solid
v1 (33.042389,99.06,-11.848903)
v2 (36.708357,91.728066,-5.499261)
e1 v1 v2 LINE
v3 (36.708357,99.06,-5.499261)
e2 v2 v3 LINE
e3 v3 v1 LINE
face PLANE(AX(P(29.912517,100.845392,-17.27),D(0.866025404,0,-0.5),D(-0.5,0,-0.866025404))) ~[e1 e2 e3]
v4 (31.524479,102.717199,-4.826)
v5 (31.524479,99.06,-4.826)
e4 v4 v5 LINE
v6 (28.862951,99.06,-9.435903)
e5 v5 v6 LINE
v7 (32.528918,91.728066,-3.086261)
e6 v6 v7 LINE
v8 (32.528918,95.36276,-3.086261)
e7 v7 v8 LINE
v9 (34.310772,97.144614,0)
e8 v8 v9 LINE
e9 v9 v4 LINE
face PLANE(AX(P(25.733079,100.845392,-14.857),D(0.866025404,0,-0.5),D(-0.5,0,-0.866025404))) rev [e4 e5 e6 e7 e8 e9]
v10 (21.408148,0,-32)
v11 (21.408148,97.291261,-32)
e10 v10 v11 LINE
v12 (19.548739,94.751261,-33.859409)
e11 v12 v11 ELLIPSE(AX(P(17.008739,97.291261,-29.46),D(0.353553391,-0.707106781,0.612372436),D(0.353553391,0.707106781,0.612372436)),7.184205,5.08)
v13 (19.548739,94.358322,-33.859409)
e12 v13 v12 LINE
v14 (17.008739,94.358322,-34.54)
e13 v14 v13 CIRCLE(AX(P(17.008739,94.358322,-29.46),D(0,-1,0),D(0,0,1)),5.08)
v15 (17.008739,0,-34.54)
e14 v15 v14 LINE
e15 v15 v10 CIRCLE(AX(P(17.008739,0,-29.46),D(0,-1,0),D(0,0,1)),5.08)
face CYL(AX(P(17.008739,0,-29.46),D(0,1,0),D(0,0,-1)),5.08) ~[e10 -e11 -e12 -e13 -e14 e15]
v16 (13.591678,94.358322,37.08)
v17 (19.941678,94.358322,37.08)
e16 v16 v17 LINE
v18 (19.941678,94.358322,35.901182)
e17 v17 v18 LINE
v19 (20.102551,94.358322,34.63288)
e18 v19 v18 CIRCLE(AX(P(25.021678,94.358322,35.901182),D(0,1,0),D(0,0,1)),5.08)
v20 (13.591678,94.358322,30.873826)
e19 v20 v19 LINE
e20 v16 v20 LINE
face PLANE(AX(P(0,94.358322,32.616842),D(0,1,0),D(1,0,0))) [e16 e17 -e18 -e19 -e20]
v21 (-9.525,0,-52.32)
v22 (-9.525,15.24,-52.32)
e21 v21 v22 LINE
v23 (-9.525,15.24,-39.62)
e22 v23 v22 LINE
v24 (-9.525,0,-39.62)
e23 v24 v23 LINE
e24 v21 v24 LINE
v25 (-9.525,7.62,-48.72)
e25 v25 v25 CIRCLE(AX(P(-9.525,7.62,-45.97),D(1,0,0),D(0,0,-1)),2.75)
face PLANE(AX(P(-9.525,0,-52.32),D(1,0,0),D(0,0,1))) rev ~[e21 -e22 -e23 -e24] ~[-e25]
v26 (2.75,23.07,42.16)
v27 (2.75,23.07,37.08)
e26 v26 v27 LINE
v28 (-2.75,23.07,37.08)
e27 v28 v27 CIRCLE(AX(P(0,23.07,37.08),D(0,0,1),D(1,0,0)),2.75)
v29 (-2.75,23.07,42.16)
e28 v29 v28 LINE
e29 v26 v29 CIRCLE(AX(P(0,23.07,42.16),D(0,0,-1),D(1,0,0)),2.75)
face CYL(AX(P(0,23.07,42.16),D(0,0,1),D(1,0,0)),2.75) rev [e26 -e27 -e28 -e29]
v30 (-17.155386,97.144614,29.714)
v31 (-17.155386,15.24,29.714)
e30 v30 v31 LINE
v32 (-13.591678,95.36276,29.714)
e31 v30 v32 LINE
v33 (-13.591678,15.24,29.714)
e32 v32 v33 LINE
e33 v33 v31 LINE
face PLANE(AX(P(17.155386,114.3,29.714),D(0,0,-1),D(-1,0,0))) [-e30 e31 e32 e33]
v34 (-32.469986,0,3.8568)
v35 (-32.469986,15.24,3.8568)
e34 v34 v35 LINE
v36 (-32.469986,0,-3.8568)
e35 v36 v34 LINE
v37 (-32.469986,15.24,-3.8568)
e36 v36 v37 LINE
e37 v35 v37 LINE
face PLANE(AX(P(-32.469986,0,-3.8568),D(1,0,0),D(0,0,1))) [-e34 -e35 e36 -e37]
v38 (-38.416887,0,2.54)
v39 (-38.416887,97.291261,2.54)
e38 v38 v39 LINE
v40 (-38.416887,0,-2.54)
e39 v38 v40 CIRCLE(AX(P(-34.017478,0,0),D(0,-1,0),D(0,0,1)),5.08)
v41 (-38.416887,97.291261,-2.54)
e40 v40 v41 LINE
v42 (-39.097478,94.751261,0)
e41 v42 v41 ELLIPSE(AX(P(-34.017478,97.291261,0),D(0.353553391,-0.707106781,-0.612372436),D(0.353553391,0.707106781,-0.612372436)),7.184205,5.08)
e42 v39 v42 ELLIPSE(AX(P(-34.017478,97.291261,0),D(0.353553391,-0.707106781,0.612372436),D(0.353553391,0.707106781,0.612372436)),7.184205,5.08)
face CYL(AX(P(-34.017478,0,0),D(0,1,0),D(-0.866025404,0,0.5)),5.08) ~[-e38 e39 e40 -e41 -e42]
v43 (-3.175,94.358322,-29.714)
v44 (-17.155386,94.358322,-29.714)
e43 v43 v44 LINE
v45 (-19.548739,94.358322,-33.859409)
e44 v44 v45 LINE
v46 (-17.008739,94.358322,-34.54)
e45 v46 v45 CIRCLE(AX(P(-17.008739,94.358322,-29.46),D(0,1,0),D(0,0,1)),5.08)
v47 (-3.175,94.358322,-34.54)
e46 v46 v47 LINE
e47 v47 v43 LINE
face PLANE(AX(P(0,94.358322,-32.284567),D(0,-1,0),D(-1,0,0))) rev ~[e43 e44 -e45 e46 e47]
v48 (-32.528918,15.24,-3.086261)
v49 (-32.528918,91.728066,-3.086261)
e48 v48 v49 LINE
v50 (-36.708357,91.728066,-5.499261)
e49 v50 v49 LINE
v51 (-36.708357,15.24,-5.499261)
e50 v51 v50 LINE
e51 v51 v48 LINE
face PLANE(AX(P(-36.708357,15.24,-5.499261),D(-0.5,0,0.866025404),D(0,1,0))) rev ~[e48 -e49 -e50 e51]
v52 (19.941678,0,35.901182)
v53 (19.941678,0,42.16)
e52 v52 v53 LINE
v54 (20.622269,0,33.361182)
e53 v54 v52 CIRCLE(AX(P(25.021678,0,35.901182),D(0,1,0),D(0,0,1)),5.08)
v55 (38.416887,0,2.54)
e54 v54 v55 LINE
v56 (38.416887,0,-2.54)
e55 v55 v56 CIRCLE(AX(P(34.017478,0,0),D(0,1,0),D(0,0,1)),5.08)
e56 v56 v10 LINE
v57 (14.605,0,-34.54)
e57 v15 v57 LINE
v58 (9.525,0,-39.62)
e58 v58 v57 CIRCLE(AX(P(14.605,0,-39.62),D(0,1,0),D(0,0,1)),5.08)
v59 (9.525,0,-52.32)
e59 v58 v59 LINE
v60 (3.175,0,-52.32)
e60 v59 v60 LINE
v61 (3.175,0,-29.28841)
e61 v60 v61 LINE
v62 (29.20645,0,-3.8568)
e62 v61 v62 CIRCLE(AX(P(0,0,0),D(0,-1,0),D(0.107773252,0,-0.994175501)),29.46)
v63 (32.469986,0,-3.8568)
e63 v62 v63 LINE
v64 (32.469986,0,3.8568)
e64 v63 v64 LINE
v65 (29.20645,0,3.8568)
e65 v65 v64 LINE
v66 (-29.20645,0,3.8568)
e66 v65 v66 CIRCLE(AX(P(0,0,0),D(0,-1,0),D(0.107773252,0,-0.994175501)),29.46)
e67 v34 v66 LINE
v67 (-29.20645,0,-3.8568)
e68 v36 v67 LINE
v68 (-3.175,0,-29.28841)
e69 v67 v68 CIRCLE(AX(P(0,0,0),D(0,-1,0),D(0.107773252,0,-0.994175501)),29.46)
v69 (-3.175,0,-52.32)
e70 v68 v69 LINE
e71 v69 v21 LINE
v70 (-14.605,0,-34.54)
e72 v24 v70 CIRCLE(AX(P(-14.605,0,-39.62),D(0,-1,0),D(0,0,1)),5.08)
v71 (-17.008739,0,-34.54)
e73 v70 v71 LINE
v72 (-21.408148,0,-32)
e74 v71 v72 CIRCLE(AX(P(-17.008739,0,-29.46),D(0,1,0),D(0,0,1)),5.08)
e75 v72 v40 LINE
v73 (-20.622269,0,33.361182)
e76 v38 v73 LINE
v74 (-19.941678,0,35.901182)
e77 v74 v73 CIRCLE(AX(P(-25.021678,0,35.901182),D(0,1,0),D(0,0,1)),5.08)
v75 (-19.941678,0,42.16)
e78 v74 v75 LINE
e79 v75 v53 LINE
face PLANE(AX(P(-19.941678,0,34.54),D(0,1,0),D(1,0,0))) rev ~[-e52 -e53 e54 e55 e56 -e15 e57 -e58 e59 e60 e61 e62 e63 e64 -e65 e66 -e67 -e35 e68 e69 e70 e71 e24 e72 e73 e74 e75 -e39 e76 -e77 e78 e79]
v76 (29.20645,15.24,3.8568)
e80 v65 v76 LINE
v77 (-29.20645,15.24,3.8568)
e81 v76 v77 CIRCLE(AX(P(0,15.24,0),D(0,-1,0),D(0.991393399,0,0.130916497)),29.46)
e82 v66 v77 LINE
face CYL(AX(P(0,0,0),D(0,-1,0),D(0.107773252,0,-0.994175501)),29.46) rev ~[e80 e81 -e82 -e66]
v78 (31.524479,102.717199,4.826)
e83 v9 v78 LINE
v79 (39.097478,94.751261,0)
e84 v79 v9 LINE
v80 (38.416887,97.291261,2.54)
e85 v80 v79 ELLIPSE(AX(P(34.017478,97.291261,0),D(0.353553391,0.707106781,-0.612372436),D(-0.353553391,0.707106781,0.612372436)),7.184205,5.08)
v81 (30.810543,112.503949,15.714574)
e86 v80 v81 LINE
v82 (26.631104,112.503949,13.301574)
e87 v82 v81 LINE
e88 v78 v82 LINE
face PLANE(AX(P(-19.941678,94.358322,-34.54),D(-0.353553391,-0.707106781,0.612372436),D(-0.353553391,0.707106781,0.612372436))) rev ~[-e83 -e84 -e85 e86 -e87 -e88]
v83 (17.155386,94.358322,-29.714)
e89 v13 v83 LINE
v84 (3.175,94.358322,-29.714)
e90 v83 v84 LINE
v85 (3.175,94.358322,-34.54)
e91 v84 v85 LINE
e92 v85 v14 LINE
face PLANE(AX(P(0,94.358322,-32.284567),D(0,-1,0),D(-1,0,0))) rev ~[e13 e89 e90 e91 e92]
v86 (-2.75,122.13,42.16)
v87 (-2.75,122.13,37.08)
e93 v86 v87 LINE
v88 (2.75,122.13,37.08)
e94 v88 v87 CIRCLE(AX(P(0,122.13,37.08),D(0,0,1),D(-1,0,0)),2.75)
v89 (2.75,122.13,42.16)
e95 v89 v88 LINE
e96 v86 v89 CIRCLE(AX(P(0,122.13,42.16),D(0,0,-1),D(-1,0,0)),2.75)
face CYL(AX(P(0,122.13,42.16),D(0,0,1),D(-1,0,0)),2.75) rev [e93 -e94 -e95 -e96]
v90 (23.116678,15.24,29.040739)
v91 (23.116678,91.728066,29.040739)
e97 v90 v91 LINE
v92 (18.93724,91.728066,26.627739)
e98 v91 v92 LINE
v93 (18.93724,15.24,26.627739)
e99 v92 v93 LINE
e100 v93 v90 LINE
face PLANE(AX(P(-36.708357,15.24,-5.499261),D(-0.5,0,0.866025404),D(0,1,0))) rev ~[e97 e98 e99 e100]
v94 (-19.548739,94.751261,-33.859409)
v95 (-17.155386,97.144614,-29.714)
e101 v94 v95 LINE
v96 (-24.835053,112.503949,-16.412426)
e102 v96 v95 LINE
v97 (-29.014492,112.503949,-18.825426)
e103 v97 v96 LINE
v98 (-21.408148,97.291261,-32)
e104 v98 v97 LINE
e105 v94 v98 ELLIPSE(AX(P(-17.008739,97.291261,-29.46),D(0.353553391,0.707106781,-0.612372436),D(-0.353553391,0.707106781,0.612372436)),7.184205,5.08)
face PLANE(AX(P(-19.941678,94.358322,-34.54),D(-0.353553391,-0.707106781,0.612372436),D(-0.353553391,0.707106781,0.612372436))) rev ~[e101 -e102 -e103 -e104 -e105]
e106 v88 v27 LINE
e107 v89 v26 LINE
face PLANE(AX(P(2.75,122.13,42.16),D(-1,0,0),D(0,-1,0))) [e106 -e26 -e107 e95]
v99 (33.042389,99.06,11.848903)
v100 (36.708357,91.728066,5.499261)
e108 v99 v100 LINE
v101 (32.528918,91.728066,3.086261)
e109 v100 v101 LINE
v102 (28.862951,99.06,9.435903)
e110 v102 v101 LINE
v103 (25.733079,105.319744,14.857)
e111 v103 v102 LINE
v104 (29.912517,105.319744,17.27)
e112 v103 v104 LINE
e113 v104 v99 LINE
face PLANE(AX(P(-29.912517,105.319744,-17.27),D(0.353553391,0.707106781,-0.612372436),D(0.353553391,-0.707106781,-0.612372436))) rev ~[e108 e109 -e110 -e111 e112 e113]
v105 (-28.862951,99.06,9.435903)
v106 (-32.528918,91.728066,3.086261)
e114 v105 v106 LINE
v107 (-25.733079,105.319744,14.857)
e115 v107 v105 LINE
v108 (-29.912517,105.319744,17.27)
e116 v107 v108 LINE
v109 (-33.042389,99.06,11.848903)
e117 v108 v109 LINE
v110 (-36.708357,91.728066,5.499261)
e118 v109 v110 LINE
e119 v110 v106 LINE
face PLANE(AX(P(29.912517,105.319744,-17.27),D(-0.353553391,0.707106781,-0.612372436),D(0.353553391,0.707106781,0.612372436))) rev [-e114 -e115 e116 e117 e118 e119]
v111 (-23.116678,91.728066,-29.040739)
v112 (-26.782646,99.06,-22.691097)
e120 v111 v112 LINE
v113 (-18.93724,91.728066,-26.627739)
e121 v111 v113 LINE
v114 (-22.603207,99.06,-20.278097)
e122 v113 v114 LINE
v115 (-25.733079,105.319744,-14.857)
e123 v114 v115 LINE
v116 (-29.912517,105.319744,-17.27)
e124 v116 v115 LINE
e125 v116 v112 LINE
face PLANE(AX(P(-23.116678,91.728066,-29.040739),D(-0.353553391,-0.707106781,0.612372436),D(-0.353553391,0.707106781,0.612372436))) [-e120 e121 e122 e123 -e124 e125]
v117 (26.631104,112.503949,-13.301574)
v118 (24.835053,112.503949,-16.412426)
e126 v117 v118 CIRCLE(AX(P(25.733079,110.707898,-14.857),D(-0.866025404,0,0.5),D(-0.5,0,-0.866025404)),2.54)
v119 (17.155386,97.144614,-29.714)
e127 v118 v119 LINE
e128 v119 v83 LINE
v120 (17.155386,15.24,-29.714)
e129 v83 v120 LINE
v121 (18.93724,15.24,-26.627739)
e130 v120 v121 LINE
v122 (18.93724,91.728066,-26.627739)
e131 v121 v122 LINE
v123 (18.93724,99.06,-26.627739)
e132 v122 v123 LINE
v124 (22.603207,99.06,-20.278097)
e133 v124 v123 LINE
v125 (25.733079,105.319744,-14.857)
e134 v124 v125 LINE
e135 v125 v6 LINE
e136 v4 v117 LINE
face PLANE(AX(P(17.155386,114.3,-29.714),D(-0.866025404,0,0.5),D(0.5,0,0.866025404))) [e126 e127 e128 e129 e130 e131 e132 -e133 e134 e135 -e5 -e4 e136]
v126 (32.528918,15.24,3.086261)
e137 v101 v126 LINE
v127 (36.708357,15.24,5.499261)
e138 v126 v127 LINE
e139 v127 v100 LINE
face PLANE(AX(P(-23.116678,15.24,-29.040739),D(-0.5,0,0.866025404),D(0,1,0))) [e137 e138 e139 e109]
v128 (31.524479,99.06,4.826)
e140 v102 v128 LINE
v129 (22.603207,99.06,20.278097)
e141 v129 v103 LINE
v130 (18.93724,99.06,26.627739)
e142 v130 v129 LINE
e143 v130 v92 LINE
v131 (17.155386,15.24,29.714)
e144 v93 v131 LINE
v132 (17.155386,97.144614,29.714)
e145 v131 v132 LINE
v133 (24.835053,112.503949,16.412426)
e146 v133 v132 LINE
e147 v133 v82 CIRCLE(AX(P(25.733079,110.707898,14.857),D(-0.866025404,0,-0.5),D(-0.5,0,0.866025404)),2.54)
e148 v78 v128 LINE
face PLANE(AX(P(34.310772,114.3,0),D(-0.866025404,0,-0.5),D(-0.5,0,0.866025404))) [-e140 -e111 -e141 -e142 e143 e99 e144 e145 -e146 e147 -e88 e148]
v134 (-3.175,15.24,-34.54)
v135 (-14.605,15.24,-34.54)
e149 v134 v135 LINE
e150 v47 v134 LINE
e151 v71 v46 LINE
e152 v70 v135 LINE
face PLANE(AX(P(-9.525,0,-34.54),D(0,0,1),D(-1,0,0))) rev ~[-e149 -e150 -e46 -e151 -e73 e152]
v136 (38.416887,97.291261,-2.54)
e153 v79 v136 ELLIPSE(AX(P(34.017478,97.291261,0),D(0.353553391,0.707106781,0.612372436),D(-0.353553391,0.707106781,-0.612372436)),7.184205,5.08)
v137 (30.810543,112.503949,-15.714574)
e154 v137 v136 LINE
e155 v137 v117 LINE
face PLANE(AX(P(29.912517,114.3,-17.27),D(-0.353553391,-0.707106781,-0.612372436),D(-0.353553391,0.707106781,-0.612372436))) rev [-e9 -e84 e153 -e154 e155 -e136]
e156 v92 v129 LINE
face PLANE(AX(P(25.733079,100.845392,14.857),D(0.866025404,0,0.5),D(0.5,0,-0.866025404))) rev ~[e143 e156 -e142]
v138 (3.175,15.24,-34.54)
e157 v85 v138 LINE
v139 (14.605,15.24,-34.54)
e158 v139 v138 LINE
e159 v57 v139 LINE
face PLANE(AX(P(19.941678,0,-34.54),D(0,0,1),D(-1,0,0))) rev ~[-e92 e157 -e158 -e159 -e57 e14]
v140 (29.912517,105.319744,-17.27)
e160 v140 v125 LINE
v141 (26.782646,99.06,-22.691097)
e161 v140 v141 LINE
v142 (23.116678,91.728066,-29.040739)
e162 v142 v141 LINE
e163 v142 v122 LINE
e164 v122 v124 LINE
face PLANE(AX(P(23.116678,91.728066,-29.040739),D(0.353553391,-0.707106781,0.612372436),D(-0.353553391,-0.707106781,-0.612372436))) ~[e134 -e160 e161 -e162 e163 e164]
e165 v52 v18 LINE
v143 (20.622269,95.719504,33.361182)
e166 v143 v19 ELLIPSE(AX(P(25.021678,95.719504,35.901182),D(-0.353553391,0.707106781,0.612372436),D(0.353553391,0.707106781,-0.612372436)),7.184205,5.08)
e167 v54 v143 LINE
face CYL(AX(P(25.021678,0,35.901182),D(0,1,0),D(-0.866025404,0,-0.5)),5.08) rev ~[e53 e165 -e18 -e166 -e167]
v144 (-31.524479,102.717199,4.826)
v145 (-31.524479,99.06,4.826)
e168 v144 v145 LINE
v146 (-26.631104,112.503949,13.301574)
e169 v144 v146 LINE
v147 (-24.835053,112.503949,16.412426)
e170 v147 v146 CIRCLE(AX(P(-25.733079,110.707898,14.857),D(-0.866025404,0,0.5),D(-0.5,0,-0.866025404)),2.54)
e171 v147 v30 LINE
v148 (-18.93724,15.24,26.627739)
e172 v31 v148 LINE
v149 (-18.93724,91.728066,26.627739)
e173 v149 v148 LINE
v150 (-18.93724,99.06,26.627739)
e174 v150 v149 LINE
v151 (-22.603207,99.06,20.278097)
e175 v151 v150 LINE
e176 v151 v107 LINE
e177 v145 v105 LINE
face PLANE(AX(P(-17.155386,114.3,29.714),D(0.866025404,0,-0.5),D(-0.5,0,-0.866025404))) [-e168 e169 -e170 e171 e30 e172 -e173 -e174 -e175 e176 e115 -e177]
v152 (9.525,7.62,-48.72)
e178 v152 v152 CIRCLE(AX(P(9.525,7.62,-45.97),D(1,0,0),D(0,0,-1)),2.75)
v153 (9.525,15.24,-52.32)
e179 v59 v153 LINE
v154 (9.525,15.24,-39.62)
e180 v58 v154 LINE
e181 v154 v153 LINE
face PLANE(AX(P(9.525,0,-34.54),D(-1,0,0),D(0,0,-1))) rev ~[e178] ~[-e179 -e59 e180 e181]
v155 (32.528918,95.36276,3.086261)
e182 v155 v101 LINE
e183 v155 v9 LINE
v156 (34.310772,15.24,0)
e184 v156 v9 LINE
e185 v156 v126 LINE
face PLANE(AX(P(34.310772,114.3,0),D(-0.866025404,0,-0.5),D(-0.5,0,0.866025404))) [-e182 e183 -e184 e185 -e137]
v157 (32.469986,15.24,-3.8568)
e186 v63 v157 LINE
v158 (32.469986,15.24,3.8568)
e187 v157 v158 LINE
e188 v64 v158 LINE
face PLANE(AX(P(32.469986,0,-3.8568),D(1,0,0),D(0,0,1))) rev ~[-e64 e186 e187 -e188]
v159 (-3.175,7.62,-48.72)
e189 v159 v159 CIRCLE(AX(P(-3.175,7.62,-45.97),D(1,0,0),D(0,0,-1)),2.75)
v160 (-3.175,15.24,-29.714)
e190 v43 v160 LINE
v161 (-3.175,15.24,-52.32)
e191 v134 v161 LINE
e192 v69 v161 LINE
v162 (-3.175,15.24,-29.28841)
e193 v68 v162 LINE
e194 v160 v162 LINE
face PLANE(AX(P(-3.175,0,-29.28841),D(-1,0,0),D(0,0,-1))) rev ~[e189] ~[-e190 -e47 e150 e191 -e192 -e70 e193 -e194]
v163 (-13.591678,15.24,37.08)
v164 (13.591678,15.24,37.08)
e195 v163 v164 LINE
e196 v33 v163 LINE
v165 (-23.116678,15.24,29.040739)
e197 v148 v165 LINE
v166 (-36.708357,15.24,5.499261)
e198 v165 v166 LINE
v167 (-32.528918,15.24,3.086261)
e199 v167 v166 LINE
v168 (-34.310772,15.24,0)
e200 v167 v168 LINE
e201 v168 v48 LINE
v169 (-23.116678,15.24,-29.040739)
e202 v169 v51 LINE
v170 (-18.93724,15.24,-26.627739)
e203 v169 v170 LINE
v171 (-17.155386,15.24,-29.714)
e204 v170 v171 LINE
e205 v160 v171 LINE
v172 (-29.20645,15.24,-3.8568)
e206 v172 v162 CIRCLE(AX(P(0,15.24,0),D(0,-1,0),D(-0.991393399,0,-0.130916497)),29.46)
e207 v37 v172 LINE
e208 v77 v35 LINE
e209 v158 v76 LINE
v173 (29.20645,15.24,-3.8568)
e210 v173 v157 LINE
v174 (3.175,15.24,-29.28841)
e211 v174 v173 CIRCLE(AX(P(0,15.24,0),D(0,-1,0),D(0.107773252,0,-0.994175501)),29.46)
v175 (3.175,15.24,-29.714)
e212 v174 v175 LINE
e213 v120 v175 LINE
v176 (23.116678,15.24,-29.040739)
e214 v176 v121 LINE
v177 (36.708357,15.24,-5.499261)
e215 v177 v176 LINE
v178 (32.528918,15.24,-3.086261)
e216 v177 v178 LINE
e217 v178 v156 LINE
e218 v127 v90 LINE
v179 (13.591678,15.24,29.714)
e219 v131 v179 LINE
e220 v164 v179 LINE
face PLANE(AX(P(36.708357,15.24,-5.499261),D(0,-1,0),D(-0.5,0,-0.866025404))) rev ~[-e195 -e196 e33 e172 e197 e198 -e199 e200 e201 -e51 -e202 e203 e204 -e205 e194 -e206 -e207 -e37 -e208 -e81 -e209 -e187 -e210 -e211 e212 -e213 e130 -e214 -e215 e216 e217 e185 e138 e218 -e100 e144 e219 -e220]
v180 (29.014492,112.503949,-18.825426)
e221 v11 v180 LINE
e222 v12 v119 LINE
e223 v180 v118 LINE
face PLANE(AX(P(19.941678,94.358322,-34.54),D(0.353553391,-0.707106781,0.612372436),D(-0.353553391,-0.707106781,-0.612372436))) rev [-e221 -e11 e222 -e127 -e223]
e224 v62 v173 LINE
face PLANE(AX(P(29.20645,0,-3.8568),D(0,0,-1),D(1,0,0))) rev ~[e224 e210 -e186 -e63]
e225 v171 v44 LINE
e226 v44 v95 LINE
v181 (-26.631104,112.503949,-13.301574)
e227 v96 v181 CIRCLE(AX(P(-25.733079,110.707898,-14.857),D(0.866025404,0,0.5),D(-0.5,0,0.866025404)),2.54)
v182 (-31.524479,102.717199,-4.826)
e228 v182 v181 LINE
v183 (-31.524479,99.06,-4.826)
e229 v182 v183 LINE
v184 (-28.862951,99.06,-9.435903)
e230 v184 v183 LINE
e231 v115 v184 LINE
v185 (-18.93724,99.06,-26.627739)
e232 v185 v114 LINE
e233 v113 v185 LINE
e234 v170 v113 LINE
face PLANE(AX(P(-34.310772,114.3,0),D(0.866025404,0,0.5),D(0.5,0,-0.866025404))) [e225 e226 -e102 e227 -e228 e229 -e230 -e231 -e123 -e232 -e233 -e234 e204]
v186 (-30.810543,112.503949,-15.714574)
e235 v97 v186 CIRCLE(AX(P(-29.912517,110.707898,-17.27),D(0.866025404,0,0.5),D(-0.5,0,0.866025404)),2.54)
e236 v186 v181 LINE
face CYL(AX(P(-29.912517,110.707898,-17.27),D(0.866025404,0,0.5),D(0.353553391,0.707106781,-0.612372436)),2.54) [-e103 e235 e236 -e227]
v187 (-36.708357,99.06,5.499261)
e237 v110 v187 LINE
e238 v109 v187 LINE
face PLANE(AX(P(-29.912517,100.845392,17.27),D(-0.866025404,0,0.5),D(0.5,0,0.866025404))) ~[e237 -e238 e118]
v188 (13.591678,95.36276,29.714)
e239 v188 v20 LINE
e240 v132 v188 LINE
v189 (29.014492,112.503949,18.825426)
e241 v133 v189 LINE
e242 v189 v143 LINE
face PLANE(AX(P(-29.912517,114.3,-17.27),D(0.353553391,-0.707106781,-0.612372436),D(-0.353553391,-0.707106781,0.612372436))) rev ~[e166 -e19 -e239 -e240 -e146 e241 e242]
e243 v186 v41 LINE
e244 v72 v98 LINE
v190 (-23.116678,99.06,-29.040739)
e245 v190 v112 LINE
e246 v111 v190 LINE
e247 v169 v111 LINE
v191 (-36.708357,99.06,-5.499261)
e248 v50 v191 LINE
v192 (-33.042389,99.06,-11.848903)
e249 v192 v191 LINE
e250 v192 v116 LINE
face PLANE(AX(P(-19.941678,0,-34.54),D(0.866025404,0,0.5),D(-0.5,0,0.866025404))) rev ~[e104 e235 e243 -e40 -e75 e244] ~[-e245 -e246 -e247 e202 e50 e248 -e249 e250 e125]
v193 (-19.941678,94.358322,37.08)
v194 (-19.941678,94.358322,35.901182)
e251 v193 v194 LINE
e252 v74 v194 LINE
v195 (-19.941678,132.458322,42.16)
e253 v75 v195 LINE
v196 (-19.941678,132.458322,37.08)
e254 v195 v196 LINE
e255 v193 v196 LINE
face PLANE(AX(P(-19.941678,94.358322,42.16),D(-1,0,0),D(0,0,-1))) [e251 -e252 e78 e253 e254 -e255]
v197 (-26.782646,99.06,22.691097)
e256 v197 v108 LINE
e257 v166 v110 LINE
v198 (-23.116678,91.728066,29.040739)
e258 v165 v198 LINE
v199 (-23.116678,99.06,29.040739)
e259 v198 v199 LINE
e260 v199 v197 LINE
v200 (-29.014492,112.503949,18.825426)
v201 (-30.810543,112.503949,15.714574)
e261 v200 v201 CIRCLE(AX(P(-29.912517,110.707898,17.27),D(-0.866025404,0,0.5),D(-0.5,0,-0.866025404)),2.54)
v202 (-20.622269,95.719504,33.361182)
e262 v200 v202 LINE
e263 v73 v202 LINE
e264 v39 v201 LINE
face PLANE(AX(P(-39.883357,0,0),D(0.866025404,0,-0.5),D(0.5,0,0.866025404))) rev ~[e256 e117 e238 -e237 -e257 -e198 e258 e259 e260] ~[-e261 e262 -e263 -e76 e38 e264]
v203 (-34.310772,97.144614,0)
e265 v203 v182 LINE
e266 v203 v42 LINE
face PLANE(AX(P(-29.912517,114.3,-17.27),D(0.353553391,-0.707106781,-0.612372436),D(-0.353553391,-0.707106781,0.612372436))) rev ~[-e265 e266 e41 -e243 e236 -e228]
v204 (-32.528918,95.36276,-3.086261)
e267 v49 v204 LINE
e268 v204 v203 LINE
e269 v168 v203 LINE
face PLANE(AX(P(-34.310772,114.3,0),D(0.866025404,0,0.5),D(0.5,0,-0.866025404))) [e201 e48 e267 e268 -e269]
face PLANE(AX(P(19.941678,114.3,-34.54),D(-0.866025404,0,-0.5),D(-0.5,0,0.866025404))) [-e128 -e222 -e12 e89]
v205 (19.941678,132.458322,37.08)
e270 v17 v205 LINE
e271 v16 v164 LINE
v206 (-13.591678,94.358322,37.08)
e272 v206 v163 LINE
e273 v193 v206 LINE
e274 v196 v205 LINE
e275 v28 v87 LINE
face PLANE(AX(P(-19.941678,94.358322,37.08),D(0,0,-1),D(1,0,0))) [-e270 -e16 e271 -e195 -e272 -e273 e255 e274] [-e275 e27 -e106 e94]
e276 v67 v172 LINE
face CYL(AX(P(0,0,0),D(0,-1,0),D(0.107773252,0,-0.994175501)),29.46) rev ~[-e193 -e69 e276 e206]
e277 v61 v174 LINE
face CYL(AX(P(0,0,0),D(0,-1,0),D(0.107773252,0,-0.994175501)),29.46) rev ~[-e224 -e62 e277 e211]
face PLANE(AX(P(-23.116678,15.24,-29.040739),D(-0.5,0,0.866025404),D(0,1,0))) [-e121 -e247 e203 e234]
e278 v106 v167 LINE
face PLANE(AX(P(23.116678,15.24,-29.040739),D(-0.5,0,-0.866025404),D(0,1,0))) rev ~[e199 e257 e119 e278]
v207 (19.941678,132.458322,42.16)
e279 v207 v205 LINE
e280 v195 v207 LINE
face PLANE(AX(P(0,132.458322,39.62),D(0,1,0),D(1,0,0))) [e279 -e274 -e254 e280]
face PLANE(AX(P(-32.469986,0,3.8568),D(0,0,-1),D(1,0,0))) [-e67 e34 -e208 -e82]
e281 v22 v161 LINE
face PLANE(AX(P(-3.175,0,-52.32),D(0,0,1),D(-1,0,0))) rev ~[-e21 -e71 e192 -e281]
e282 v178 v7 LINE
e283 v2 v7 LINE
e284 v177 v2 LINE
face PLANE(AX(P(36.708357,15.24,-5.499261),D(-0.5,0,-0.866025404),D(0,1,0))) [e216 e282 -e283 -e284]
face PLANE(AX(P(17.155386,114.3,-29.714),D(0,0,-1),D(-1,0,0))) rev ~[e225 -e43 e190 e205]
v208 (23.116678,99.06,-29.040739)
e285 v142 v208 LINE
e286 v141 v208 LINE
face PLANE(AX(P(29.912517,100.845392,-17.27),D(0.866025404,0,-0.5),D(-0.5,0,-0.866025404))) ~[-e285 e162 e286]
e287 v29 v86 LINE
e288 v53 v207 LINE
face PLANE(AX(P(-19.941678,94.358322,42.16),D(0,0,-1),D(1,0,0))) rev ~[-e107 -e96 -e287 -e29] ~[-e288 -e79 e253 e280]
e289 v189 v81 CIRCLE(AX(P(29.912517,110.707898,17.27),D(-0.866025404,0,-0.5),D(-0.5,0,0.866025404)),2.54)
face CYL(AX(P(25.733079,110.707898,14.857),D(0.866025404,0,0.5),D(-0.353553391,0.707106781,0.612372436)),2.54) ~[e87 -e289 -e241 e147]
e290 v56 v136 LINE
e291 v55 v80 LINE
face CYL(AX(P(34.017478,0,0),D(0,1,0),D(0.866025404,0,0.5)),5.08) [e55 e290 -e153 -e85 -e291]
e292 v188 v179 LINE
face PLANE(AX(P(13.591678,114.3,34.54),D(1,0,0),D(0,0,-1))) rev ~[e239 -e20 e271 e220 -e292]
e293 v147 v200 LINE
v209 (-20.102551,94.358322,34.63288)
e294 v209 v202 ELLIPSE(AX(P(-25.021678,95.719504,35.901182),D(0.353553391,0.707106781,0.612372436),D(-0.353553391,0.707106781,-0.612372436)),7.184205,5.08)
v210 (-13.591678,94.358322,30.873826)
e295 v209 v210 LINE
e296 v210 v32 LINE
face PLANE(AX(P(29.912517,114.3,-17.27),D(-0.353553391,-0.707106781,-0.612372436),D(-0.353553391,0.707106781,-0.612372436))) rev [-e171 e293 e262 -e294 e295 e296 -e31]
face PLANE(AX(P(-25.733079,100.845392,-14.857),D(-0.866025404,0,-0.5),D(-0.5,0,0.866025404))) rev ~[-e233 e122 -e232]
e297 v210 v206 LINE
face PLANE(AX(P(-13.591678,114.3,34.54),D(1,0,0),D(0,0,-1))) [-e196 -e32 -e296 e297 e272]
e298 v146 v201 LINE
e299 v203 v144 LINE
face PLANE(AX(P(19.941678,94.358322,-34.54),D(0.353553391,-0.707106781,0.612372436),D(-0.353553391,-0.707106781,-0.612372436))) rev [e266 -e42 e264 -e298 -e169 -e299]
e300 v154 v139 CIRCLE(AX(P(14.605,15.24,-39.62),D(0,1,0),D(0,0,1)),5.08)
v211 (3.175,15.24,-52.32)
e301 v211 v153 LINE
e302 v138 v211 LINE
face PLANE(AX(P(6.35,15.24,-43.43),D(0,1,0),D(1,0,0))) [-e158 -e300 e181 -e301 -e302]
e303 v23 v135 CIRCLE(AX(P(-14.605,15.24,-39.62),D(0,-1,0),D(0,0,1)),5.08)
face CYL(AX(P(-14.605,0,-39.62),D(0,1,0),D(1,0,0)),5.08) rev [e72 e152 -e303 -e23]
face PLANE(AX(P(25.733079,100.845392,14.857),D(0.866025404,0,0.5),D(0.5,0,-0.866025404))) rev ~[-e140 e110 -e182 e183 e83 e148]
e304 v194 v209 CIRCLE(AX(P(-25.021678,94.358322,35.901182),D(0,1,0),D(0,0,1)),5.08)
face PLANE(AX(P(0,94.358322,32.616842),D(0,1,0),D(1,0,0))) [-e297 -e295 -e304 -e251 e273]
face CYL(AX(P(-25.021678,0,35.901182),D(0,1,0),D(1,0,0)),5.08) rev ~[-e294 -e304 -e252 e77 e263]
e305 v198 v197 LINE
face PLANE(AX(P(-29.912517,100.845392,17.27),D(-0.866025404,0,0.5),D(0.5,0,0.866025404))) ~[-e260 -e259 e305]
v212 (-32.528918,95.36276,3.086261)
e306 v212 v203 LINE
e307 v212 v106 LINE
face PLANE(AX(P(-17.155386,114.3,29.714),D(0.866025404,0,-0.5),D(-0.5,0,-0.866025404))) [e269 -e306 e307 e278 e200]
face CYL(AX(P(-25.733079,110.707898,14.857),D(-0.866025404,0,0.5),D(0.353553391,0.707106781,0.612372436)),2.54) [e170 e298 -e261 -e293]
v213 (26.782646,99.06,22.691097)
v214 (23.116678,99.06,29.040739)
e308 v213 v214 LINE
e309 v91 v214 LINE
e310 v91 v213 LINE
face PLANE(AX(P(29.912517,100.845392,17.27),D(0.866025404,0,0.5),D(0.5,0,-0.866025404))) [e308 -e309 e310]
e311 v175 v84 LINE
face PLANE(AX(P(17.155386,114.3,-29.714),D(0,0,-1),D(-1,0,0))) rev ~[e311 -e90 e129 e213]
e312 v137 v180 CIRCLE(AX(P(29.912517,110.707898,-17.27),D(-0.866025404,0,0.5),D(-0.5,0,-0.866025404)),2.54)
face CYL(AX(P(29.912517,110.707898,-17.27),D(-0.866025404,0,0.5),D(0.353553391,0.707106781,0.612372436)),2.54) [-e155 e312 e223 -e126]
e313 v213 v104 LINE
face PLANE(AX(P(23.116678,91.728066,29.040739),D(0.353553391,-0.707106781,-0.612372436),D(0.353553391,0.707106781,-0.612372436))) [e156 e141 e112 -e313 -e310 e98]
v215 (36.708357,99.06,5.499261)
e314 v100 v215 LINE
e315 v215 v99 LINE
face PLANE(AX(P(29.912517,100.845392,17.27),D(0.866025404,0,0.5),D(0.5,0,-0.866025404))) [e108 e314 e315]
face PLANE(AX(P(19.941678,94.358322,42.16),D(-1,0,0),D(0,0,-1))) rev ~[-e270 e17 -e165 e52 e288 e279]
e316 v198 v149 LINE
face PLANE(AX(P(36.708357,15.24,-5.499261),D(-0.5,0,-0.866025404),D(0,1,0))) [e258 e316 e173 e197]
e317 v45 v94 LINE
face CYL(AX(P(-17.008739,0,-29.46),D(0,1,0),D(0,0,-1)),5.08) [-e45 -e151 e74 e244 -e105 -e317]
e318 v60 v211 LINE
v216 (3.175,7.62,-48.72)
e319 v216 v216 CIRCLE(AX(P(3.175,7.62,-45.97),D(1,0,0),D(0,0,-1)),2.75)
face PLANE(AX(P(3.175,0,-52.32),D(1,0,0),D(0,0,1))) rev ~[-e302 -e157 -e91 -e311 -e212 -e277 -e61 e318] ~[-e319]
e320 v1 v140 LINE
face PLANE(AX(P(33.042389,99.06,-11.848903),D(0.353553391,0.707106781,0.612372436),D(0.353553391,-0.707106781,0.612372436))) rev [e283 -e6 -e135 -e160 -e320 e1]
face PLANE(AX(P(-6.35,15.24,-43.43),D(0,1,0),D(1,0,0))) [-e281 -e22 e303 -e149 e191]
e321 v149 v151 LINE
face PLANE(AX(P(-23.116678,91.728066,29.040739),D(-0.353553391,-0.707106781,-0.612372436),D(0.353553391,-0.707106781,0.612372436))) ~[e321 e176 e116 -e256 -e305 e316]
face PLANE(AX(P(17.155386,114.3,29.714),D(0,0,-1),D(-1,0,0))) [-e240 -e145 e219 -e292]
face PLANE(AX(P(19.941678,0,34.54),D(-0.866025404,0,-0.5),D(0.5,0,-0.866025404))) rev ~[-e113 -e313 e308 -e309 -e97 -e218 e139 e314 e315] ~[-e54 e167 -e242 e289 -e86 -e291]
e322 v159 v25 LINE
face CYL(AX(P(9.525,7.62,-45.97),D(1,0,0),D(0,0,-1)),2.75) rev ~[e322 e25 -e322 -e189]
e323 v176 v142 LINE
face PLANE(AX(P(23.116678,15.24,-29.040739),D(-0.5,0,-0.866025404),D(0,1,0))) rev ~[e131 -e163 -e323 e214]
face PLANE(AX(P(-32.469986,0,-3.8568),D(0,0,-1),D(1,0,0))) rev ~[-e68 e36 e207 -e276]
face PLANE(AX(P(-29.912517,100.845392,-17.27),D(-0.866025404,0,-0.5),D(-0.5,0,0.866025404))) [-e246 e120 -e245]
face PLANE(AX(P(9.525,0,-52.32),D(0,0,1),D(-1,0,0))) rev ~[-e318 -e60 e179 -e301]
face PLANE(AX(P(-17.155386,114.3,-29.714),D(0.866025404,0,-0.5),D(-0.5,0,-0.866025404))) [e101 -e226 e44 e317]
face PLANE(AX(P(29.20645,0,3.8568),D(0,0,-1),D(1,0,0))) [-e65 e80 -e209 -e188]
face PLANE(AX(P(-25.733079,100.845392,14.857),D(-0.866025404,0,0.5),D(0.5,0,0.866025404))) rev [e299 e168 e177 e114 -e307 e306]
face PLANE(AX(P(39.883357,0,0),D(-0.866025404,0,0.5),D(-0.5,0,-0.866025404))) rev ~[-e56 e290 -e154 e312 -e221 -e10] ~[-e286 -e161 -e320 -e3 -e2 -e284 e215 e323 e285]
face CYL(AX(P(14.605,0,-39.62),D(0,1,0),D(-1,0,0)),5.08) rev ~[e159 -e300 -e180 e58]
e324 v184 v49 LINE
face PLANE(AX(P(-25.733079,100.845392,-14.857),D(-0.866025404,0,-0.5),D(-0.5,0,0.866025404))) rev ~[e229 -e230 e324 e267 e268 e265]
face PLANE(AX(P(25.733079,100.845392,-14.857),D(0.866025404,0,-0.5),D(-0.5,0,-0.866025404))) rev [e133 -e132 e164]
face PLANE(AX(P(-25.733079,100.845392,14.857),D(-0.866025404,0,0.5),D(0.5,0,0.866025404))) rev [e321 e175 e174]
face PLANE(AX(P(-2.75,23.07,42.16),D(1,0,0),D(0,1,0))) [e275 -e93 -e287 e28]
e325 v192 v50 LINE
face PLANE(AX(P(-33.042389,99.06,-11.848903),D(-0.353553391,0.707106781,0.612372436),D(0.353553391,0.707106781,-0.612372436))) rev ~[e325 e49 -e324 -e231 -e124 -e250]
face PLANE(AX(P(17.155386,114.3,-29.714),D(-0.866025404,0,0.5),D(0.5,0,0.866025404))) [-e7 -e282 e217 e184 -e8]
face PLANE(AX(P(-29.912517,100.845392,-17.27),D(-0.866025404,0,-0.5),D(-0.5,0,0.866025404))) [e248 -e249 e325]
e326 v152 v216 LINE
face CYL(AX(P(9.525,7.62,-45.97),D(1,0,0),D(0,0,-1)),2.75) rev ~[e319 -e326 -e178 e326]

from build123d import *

# Parameters (mm, degrees)
BOSS_EXTRUDE1_DEPTH  = 114.3
SKETCH2_W            = 6.35
SKETCH2_H            = 17.78
CUT_EXTRUDE2_DEPTH   = 99.06
SKETCH3_W            = 27.183356596
SKETCH3_H            = 83.82
CUT_EXTRUDE3_DEPTH   = 99.06
SKETCH4_W            = 27.183356596
SKETCH4_H            = 83.82
CUT_EXTRUDE4_DEPTH   = 99.06
SKETCH7_W            = 3.263536018
SKETCH7_H            = 7.713600016
CUT_EXTRUDE7_DEPTH   = 15.24
CUT_EXTRUDE8_DEPTH   = 99.06
SKETCH10_W           = 39.883356596
SKETCH10_H           = 114.3
BOSS_EXTRUDE2_DEPTH  = 7.62
CUT_EXTRUDE11_DEPTH  = 81.28
BOSS_EXTRUDE9_DEPTH  = 4.826
MIRROR9_COPY_1_DEPTH = 4.826
CUT_EXTRUDE13_DEPTH  = 19.941678176
CUT_EXTRUDE14_DEPTH  = 19.941678176
SKETCH17_W           = 27.183356538
SKETCH17_H           = 4.826
CUT_EXTRUDE15_DEPTH  = 99.06
SKETCH18_W           = 39.883356596
SKETCH18_H           = 7.62
CUT_EXTRUDE16_DEPTH  = 19.941678176
SKETCH20_W           = 27.183356538
SKETCH20_H           = 2.54
CUT_EXTRUDE19_DEPTH  = 79.118321824
FILLET1_R            = 5.08
FILLET2_R            = 2.54
SKETCH21_R           = 2.749999961
CUT_EXTRUDE20_DEPTH  = 79.118321824
SKETCH22_W           = 39.883356596
SKETCH22_H           = 5.08
BOSS_EXTRUDE10_DEPTH = 38.1
CUT_EXTRUDE21_REACH  = 169.333


with BuildPart() as part:
    # Sketch1 → Boss-Extrude1 (new body)
    with BuildSketch(Plane(origin=(0, 0, 0), x_dir=(1, 0, 0), z_dir=(0, 1, 0))):
        with BuildLine():
            Line((39.883356596, 0), (19.941678298, 34.54))
            Line((19.941678298, 34.54), (9.525, 34.54))
            Line((9.525, 34.54), (9.525, 52.32))
            Line((9.525, 52.32), (3.175, 52.32))
            Line((3.175, 52.32), (3.175, 34.54))
            Line((3.175, 34.54), (3.175, 29.28841025))
            ThreePointArc((3.175, 29.28841025), (0, -29.46), (-3.175, 29.28841025))
            Line((-3.175, 29.28841025), (-3.175, 34.54))
            Line((-3.175, 34.54), (-3.175, 52.32))
            Line((-3.175, 52.32), (-9.525, 52.32))
            Line((-9.525, 52.32), (-9.525, 34.54))
            Line((-9.525, 34.54), (-19.941678298, 34.54))
            Line((-19.941678298, 34.54), (-39.883356596, 0))
            Line((-39.883356596, 0), (-19.941678298, -34.54))
            Line((-19.941678298, -34.54), (19.941678298, -34.54))
            Line((19.941678298, -34.54), (39.883356596, 0))
        make_face()
    extrude(amount=BOSS_EXTRUDE1_DEPTH)

    # Sketch2 → Cut-Extrude2 (cut)
    with BuildSketch(Plane(origin=(0, 114.3, 0), x_dir=(1, 0, 0), z_dir=(0, 1, 0))):
        with Locations((-6.35, 43.43)):
            Rectangle(SKETCH2_W, SKETCH2_H)
        with Locations((6.35, 43.43)):
            Rectangle(SKETCH2_W, SKETCH2_H)
    extrude(amount=-CUT_EXTRUDE2_DEPTH, mode=Mode.SUBTRACT)

    # Sketch3 → Cut-Extrude3 (cut)
    with BuildSketch(Plane(origin=(-29.912517447, 0, -17.27), x_dir=(-0.49999999999999617, 0, 0.8660254037844409), z_dir=(-0.8660254037844408, 0, -0.4999999999999961))):
        with Locations((0, 57.15)):
            Rectangle(SKETCH3_W, SKETCH3_H)
    extrude(amount=-CUT_EXTRUDE3_DEPTH, mode=Mode.SUBTRACT)

    # Sketch4 → Cut-Extrude4 (cut)
    with BuildSketch(Plane(origin=(29.912517447, 0, -17.27), x_dir=(-0.500000000000004, 0, -0.8660254037844364), z_dir=(0.8660254037844365, 0, -0.500000000000004))):
        with Locations((0, 57.15)):
            Rectangle(SKETCH4_W, SKETCH4_H)
    extrude(amount=-CUT_EXTRUDE4_DEPTH, mode=Mode.SUBTRACT)

    # Sketch7 → Cut-Extrude7 (cut)
    with BuildSketch(Plane.XZ):
        with Locations((-30.838217531, 0)):
            Rectangle(SKETCH7_W, SKETCH7_H)
        with Locations((30.838217531, 0)):
            Rectangle(SKETCH7_W, SKETCH7_H)
    extrude(amount=-CUT_EXTRUDE7_DEPTH, mode=Mode.SUBTRACT)

    # Sketch8 → Cut-Extrude8 (cut)
    with BuildSketch(Plane(origin=(0, 114.3, 0), x_dir=(1, 0, 0), z_dir=(0, 1, 0))):
        Polygon((-3.175, 29.714), (3.175, 29.714), (17.155385899, 29.714), (34.310771797, 0), (17.155385899, -29.714), (-17.155385899, -29.714), (-34.310771797, 0), (-17.155385899, 29.714), align=None)
    extrude(amount=-CUT_EXTRUDE8_DEPTH, mode=Mode.SUBTRACT)

    # Sketch10 → Boss-Extrude2 (add)
    with BuildSketch(Plane.XY.offset(34.54)):
        with Locations((0, 57.15)):
            Rectangle(SKETCH10_W, SKETCH10_H)
    extrude(amount=BOSS_EXTRUDE2_DEPTH)

    # Sketch12 → Cut-Extrude11 (cut)
    with BuildSketch(Plane(origin=(-29.912517447, 0, -17.27), x_dir=(-0.4999999999999998, 0, 0.8660254037844388), z_dir=(-0.8660254037844388, 0, -0.4999999999999998))):
        Polygon((19.941678298, 114.3), (0, 114.3), (19.941678298, 94.358321702), align=None)
        Polygon((-19.941678298, 94.358321702), (0, 114.3), (-19.941678298, 114.3), align=None)
        Polygon((6.259743879, 99.06), (0, 105.319743879), (-6.259743879, 99.06), align=None)
    cut_extrude11 = extrude(amount=-CUT_EXTRUDE11_DEPTH, mode=Mode.SUBTRACT)

    # Mirror2: Cut-Extrude11 across plane
    add(cut_extrude11.mirror(Plane(origin=(0, 0, 0), x_dir=(0, 0, 1), z_dir=(1, 0, 0))), mode=Mode.SUBTRACT)

    # Sketch11 → Boss-Extrude9 (add)
    with BuildSketch(Plane(origin=(-29.912517447, 0, -17.27), x_dir=(-0.4999999999999998, 0, 0.8660254037844388), z_dir=(-0.8660254037844388, 0, -0.4999999999999998))):
        Polygon((-13.591678298, 91.728065581), (0, 105.319743879), (13.591678298, 91.728065581), (19.941678298, 94.358321702), (0, 114.3), (-19.941678298, 94.358321702), align=None)
    boss_extrude9 = extrude(amount=-BOSS_EXTRUDE9_DEPTH)

    # Mirror8: Boss-Extrude9 across plane
    add(boss_extrude9.mirror(Plane.XY))

    # Mirror9: Boss-Extrude9 across plane
    add(boss_extrude9.mirror(Plane(origin=(0, 0, 0), x_dir=(0, 0, 1), z_dir=(1, 0, 0))))

    # Mirror9 copy 1 sketch → Mirror9 copy 1 (add)
    with BuildSketch(Plane(origin=(29.912517447, 0, 17.27), x_dir=(0.4999999999999998, 0, -0.8660254037844388), z_dir=(0.8660254037844388, 0, 0.4999999999999998))):
        Polygon((-13.591678298, 91.728065581), (0, 105.319743879), (13.591678298, 91.728065581), (19.941678298, 94.358321702), (0, 114.3), (-19.941678298, 94.358321702), align=None)
    extrude(amount=-MIRROR9_COPY_1_DEPTH)

    # Sketch15 → Cut-Extrude13 (cut)
    with BuildSketch(Plane(origin=(0, 114.3, 0), x_dir=(1, 0, 0), z_dir=(0, 1, 0))):
        Polygon((-17.155385899, 29.714), (-19.941678298, 34.54), (19.941678298, 34.54), (17.155385899, 29.714), align=None)
    extrude(amount=-CUT_EXTRUDE13_DEPTH, mode=Mode.SUBTRACT)

    # Sketch16 → Cut-Extrude14 (cut)
    with BuildSketch(Plane(origin=(0, 114.3, 0), x_dir=(1, 0, 0), z_dir=(0, 1, 0))):
        Polygon((-19.941678298, -34.54), (19.941678298, -34.54), (11.5828011, -29.714), (-11.5828011, -29.714), align=None)
    extrude(amount=-CUT_EXTRUDE14_DEPTH, mode=Mode.SUBTRACT)

    # Sketch17 → Cut-Extrude15 (cut)
    with BuildSketch(Plane(origin=(0, 114.3, 0), x_dir=(1, 0, 0), z_dir=(0, 1, 0))):
        with Locations((0, -32.127)):
            Rectangle(SKETCH17_W, SKETCH17_H)
    extrude(amount=-CUT_EXTRUDE15_DEPTH, mode=Mode.SUBTRACT)

    # Sketch18 → Cut-Extrude16 (cut)
    with BuildSketch(Plane(origin=(0, 114.3, 0), x_dir=(1, 0, 0), z_dir=(0, 1, 0))):
        with Locations((0, -38.35)):
            Rectangle(SKETCH18_W, SKETCH18_H)
    extrude(amount=-CUT_EXTRUDE16_DEPTH, mode=Mode.SUBTRACT)

    # Sketch20 → Cut-Extrude19 (cut)
    with BuildSketch(Plane(origin=(0, 94.358321824, 0), x_dir=(1, 0, 0), z_dir=(0, 1, 0))):
        with Locations((0, -35.81)):
            Rectangle(SKETCH20_W, SKETCH20_H)
    extrude(amount=-CUT_EXTRUDE19_DEPTH, mode=Mode.SUBTRACT)

    # Fillet1
    fillet1_edges = [part.edges().sort_by_distance(p)[0] for p in [
        (19.941678298, 47.179160851, 34.54),
        (-39.883356596, 47.179160851, 0),
        (-19.941678298, 47.179160851, -34.54),
        (39.883356596, 47.179160851, 0),
        (-19.941678298, 47.179160851, 34.54),
        (19.941678298, 47.179160851, -34.54),
        (-9.525, 7.62, -34.54),
        (9.525, 7.62, -34.54),
    ]]
    fillet(fillet1_edges, radius=FILLET1_R)

    # Fillet2
    fillet2_edges = [part.edges().sort_by_distance(p)[0] for p in [
        (27.822798147, 114.3, 16.0635),
        (-27.822798147, 114.3, -16.0635),
        (-27.822798147, 114.3, 16.0635),
        (27.822798147, 114.3, -16.0635),
    ]]
    fillet(fillet2_edges, radius=FILLET2_R)

    # Sketch21 → Cut-Extrude20 (cut)
    with BuildSketch(Plane(origin=(9.525, 0, 0), x_dir=(0, 0, -1), z_dir=(1, 0, 0))):
        with Locations((45.97, 7.62)):
            Circle(SKETCH21_R)
    extrude(amount=-CUT_EXTRUDE20_DEPTH, mode=Mode.SUBTRACT)

    # Sketch22 → Boss-Extrude10 (add)
    with BuildSketch(Plane(origin=(0, 94.358321824, 0), x_dir=(1, 0, 0), z_dir=(0, 1, 0))):
        with Locations((0, -39.62)):
            Rectangle(SKETCH22_W, SKETCH22_H)
    extrude(amount=BOSS_EXTRUDE10_DEPTH)

    # Sketch23 → Cut-Extrude21 (cut, up to next)
    with BuildSketch(Plane.XY.offset(42.16), mode=Mode.PRIVATE) as cut_extrude21_sk1:
        with BuildLine():
            Line((2.75, 122.13), (2.75, 23.07))
            ThreePointArc((2.75, 23.07), (0, 20.32), (-2.75, 23.07))
            Line((-2.75, 23.07), (-2.75, 122.13))
            ThreePointArc((-2.75, 122.13), (0, 124.88), (2.75, 122.13))
        make_face()
    cut_extrude21_tool1 = extrude(cut_extrude21_sk1.sketch, amount=-CUT_EXTRUDE21_REACH, mode=Mode.PRIVATE) & part.part
    add(cut_extrude21_tool1.solids().sort_by_distance((0, 72.6, 42.16))[0], mode=Mode.SUBTRACT)


solid = part.part
